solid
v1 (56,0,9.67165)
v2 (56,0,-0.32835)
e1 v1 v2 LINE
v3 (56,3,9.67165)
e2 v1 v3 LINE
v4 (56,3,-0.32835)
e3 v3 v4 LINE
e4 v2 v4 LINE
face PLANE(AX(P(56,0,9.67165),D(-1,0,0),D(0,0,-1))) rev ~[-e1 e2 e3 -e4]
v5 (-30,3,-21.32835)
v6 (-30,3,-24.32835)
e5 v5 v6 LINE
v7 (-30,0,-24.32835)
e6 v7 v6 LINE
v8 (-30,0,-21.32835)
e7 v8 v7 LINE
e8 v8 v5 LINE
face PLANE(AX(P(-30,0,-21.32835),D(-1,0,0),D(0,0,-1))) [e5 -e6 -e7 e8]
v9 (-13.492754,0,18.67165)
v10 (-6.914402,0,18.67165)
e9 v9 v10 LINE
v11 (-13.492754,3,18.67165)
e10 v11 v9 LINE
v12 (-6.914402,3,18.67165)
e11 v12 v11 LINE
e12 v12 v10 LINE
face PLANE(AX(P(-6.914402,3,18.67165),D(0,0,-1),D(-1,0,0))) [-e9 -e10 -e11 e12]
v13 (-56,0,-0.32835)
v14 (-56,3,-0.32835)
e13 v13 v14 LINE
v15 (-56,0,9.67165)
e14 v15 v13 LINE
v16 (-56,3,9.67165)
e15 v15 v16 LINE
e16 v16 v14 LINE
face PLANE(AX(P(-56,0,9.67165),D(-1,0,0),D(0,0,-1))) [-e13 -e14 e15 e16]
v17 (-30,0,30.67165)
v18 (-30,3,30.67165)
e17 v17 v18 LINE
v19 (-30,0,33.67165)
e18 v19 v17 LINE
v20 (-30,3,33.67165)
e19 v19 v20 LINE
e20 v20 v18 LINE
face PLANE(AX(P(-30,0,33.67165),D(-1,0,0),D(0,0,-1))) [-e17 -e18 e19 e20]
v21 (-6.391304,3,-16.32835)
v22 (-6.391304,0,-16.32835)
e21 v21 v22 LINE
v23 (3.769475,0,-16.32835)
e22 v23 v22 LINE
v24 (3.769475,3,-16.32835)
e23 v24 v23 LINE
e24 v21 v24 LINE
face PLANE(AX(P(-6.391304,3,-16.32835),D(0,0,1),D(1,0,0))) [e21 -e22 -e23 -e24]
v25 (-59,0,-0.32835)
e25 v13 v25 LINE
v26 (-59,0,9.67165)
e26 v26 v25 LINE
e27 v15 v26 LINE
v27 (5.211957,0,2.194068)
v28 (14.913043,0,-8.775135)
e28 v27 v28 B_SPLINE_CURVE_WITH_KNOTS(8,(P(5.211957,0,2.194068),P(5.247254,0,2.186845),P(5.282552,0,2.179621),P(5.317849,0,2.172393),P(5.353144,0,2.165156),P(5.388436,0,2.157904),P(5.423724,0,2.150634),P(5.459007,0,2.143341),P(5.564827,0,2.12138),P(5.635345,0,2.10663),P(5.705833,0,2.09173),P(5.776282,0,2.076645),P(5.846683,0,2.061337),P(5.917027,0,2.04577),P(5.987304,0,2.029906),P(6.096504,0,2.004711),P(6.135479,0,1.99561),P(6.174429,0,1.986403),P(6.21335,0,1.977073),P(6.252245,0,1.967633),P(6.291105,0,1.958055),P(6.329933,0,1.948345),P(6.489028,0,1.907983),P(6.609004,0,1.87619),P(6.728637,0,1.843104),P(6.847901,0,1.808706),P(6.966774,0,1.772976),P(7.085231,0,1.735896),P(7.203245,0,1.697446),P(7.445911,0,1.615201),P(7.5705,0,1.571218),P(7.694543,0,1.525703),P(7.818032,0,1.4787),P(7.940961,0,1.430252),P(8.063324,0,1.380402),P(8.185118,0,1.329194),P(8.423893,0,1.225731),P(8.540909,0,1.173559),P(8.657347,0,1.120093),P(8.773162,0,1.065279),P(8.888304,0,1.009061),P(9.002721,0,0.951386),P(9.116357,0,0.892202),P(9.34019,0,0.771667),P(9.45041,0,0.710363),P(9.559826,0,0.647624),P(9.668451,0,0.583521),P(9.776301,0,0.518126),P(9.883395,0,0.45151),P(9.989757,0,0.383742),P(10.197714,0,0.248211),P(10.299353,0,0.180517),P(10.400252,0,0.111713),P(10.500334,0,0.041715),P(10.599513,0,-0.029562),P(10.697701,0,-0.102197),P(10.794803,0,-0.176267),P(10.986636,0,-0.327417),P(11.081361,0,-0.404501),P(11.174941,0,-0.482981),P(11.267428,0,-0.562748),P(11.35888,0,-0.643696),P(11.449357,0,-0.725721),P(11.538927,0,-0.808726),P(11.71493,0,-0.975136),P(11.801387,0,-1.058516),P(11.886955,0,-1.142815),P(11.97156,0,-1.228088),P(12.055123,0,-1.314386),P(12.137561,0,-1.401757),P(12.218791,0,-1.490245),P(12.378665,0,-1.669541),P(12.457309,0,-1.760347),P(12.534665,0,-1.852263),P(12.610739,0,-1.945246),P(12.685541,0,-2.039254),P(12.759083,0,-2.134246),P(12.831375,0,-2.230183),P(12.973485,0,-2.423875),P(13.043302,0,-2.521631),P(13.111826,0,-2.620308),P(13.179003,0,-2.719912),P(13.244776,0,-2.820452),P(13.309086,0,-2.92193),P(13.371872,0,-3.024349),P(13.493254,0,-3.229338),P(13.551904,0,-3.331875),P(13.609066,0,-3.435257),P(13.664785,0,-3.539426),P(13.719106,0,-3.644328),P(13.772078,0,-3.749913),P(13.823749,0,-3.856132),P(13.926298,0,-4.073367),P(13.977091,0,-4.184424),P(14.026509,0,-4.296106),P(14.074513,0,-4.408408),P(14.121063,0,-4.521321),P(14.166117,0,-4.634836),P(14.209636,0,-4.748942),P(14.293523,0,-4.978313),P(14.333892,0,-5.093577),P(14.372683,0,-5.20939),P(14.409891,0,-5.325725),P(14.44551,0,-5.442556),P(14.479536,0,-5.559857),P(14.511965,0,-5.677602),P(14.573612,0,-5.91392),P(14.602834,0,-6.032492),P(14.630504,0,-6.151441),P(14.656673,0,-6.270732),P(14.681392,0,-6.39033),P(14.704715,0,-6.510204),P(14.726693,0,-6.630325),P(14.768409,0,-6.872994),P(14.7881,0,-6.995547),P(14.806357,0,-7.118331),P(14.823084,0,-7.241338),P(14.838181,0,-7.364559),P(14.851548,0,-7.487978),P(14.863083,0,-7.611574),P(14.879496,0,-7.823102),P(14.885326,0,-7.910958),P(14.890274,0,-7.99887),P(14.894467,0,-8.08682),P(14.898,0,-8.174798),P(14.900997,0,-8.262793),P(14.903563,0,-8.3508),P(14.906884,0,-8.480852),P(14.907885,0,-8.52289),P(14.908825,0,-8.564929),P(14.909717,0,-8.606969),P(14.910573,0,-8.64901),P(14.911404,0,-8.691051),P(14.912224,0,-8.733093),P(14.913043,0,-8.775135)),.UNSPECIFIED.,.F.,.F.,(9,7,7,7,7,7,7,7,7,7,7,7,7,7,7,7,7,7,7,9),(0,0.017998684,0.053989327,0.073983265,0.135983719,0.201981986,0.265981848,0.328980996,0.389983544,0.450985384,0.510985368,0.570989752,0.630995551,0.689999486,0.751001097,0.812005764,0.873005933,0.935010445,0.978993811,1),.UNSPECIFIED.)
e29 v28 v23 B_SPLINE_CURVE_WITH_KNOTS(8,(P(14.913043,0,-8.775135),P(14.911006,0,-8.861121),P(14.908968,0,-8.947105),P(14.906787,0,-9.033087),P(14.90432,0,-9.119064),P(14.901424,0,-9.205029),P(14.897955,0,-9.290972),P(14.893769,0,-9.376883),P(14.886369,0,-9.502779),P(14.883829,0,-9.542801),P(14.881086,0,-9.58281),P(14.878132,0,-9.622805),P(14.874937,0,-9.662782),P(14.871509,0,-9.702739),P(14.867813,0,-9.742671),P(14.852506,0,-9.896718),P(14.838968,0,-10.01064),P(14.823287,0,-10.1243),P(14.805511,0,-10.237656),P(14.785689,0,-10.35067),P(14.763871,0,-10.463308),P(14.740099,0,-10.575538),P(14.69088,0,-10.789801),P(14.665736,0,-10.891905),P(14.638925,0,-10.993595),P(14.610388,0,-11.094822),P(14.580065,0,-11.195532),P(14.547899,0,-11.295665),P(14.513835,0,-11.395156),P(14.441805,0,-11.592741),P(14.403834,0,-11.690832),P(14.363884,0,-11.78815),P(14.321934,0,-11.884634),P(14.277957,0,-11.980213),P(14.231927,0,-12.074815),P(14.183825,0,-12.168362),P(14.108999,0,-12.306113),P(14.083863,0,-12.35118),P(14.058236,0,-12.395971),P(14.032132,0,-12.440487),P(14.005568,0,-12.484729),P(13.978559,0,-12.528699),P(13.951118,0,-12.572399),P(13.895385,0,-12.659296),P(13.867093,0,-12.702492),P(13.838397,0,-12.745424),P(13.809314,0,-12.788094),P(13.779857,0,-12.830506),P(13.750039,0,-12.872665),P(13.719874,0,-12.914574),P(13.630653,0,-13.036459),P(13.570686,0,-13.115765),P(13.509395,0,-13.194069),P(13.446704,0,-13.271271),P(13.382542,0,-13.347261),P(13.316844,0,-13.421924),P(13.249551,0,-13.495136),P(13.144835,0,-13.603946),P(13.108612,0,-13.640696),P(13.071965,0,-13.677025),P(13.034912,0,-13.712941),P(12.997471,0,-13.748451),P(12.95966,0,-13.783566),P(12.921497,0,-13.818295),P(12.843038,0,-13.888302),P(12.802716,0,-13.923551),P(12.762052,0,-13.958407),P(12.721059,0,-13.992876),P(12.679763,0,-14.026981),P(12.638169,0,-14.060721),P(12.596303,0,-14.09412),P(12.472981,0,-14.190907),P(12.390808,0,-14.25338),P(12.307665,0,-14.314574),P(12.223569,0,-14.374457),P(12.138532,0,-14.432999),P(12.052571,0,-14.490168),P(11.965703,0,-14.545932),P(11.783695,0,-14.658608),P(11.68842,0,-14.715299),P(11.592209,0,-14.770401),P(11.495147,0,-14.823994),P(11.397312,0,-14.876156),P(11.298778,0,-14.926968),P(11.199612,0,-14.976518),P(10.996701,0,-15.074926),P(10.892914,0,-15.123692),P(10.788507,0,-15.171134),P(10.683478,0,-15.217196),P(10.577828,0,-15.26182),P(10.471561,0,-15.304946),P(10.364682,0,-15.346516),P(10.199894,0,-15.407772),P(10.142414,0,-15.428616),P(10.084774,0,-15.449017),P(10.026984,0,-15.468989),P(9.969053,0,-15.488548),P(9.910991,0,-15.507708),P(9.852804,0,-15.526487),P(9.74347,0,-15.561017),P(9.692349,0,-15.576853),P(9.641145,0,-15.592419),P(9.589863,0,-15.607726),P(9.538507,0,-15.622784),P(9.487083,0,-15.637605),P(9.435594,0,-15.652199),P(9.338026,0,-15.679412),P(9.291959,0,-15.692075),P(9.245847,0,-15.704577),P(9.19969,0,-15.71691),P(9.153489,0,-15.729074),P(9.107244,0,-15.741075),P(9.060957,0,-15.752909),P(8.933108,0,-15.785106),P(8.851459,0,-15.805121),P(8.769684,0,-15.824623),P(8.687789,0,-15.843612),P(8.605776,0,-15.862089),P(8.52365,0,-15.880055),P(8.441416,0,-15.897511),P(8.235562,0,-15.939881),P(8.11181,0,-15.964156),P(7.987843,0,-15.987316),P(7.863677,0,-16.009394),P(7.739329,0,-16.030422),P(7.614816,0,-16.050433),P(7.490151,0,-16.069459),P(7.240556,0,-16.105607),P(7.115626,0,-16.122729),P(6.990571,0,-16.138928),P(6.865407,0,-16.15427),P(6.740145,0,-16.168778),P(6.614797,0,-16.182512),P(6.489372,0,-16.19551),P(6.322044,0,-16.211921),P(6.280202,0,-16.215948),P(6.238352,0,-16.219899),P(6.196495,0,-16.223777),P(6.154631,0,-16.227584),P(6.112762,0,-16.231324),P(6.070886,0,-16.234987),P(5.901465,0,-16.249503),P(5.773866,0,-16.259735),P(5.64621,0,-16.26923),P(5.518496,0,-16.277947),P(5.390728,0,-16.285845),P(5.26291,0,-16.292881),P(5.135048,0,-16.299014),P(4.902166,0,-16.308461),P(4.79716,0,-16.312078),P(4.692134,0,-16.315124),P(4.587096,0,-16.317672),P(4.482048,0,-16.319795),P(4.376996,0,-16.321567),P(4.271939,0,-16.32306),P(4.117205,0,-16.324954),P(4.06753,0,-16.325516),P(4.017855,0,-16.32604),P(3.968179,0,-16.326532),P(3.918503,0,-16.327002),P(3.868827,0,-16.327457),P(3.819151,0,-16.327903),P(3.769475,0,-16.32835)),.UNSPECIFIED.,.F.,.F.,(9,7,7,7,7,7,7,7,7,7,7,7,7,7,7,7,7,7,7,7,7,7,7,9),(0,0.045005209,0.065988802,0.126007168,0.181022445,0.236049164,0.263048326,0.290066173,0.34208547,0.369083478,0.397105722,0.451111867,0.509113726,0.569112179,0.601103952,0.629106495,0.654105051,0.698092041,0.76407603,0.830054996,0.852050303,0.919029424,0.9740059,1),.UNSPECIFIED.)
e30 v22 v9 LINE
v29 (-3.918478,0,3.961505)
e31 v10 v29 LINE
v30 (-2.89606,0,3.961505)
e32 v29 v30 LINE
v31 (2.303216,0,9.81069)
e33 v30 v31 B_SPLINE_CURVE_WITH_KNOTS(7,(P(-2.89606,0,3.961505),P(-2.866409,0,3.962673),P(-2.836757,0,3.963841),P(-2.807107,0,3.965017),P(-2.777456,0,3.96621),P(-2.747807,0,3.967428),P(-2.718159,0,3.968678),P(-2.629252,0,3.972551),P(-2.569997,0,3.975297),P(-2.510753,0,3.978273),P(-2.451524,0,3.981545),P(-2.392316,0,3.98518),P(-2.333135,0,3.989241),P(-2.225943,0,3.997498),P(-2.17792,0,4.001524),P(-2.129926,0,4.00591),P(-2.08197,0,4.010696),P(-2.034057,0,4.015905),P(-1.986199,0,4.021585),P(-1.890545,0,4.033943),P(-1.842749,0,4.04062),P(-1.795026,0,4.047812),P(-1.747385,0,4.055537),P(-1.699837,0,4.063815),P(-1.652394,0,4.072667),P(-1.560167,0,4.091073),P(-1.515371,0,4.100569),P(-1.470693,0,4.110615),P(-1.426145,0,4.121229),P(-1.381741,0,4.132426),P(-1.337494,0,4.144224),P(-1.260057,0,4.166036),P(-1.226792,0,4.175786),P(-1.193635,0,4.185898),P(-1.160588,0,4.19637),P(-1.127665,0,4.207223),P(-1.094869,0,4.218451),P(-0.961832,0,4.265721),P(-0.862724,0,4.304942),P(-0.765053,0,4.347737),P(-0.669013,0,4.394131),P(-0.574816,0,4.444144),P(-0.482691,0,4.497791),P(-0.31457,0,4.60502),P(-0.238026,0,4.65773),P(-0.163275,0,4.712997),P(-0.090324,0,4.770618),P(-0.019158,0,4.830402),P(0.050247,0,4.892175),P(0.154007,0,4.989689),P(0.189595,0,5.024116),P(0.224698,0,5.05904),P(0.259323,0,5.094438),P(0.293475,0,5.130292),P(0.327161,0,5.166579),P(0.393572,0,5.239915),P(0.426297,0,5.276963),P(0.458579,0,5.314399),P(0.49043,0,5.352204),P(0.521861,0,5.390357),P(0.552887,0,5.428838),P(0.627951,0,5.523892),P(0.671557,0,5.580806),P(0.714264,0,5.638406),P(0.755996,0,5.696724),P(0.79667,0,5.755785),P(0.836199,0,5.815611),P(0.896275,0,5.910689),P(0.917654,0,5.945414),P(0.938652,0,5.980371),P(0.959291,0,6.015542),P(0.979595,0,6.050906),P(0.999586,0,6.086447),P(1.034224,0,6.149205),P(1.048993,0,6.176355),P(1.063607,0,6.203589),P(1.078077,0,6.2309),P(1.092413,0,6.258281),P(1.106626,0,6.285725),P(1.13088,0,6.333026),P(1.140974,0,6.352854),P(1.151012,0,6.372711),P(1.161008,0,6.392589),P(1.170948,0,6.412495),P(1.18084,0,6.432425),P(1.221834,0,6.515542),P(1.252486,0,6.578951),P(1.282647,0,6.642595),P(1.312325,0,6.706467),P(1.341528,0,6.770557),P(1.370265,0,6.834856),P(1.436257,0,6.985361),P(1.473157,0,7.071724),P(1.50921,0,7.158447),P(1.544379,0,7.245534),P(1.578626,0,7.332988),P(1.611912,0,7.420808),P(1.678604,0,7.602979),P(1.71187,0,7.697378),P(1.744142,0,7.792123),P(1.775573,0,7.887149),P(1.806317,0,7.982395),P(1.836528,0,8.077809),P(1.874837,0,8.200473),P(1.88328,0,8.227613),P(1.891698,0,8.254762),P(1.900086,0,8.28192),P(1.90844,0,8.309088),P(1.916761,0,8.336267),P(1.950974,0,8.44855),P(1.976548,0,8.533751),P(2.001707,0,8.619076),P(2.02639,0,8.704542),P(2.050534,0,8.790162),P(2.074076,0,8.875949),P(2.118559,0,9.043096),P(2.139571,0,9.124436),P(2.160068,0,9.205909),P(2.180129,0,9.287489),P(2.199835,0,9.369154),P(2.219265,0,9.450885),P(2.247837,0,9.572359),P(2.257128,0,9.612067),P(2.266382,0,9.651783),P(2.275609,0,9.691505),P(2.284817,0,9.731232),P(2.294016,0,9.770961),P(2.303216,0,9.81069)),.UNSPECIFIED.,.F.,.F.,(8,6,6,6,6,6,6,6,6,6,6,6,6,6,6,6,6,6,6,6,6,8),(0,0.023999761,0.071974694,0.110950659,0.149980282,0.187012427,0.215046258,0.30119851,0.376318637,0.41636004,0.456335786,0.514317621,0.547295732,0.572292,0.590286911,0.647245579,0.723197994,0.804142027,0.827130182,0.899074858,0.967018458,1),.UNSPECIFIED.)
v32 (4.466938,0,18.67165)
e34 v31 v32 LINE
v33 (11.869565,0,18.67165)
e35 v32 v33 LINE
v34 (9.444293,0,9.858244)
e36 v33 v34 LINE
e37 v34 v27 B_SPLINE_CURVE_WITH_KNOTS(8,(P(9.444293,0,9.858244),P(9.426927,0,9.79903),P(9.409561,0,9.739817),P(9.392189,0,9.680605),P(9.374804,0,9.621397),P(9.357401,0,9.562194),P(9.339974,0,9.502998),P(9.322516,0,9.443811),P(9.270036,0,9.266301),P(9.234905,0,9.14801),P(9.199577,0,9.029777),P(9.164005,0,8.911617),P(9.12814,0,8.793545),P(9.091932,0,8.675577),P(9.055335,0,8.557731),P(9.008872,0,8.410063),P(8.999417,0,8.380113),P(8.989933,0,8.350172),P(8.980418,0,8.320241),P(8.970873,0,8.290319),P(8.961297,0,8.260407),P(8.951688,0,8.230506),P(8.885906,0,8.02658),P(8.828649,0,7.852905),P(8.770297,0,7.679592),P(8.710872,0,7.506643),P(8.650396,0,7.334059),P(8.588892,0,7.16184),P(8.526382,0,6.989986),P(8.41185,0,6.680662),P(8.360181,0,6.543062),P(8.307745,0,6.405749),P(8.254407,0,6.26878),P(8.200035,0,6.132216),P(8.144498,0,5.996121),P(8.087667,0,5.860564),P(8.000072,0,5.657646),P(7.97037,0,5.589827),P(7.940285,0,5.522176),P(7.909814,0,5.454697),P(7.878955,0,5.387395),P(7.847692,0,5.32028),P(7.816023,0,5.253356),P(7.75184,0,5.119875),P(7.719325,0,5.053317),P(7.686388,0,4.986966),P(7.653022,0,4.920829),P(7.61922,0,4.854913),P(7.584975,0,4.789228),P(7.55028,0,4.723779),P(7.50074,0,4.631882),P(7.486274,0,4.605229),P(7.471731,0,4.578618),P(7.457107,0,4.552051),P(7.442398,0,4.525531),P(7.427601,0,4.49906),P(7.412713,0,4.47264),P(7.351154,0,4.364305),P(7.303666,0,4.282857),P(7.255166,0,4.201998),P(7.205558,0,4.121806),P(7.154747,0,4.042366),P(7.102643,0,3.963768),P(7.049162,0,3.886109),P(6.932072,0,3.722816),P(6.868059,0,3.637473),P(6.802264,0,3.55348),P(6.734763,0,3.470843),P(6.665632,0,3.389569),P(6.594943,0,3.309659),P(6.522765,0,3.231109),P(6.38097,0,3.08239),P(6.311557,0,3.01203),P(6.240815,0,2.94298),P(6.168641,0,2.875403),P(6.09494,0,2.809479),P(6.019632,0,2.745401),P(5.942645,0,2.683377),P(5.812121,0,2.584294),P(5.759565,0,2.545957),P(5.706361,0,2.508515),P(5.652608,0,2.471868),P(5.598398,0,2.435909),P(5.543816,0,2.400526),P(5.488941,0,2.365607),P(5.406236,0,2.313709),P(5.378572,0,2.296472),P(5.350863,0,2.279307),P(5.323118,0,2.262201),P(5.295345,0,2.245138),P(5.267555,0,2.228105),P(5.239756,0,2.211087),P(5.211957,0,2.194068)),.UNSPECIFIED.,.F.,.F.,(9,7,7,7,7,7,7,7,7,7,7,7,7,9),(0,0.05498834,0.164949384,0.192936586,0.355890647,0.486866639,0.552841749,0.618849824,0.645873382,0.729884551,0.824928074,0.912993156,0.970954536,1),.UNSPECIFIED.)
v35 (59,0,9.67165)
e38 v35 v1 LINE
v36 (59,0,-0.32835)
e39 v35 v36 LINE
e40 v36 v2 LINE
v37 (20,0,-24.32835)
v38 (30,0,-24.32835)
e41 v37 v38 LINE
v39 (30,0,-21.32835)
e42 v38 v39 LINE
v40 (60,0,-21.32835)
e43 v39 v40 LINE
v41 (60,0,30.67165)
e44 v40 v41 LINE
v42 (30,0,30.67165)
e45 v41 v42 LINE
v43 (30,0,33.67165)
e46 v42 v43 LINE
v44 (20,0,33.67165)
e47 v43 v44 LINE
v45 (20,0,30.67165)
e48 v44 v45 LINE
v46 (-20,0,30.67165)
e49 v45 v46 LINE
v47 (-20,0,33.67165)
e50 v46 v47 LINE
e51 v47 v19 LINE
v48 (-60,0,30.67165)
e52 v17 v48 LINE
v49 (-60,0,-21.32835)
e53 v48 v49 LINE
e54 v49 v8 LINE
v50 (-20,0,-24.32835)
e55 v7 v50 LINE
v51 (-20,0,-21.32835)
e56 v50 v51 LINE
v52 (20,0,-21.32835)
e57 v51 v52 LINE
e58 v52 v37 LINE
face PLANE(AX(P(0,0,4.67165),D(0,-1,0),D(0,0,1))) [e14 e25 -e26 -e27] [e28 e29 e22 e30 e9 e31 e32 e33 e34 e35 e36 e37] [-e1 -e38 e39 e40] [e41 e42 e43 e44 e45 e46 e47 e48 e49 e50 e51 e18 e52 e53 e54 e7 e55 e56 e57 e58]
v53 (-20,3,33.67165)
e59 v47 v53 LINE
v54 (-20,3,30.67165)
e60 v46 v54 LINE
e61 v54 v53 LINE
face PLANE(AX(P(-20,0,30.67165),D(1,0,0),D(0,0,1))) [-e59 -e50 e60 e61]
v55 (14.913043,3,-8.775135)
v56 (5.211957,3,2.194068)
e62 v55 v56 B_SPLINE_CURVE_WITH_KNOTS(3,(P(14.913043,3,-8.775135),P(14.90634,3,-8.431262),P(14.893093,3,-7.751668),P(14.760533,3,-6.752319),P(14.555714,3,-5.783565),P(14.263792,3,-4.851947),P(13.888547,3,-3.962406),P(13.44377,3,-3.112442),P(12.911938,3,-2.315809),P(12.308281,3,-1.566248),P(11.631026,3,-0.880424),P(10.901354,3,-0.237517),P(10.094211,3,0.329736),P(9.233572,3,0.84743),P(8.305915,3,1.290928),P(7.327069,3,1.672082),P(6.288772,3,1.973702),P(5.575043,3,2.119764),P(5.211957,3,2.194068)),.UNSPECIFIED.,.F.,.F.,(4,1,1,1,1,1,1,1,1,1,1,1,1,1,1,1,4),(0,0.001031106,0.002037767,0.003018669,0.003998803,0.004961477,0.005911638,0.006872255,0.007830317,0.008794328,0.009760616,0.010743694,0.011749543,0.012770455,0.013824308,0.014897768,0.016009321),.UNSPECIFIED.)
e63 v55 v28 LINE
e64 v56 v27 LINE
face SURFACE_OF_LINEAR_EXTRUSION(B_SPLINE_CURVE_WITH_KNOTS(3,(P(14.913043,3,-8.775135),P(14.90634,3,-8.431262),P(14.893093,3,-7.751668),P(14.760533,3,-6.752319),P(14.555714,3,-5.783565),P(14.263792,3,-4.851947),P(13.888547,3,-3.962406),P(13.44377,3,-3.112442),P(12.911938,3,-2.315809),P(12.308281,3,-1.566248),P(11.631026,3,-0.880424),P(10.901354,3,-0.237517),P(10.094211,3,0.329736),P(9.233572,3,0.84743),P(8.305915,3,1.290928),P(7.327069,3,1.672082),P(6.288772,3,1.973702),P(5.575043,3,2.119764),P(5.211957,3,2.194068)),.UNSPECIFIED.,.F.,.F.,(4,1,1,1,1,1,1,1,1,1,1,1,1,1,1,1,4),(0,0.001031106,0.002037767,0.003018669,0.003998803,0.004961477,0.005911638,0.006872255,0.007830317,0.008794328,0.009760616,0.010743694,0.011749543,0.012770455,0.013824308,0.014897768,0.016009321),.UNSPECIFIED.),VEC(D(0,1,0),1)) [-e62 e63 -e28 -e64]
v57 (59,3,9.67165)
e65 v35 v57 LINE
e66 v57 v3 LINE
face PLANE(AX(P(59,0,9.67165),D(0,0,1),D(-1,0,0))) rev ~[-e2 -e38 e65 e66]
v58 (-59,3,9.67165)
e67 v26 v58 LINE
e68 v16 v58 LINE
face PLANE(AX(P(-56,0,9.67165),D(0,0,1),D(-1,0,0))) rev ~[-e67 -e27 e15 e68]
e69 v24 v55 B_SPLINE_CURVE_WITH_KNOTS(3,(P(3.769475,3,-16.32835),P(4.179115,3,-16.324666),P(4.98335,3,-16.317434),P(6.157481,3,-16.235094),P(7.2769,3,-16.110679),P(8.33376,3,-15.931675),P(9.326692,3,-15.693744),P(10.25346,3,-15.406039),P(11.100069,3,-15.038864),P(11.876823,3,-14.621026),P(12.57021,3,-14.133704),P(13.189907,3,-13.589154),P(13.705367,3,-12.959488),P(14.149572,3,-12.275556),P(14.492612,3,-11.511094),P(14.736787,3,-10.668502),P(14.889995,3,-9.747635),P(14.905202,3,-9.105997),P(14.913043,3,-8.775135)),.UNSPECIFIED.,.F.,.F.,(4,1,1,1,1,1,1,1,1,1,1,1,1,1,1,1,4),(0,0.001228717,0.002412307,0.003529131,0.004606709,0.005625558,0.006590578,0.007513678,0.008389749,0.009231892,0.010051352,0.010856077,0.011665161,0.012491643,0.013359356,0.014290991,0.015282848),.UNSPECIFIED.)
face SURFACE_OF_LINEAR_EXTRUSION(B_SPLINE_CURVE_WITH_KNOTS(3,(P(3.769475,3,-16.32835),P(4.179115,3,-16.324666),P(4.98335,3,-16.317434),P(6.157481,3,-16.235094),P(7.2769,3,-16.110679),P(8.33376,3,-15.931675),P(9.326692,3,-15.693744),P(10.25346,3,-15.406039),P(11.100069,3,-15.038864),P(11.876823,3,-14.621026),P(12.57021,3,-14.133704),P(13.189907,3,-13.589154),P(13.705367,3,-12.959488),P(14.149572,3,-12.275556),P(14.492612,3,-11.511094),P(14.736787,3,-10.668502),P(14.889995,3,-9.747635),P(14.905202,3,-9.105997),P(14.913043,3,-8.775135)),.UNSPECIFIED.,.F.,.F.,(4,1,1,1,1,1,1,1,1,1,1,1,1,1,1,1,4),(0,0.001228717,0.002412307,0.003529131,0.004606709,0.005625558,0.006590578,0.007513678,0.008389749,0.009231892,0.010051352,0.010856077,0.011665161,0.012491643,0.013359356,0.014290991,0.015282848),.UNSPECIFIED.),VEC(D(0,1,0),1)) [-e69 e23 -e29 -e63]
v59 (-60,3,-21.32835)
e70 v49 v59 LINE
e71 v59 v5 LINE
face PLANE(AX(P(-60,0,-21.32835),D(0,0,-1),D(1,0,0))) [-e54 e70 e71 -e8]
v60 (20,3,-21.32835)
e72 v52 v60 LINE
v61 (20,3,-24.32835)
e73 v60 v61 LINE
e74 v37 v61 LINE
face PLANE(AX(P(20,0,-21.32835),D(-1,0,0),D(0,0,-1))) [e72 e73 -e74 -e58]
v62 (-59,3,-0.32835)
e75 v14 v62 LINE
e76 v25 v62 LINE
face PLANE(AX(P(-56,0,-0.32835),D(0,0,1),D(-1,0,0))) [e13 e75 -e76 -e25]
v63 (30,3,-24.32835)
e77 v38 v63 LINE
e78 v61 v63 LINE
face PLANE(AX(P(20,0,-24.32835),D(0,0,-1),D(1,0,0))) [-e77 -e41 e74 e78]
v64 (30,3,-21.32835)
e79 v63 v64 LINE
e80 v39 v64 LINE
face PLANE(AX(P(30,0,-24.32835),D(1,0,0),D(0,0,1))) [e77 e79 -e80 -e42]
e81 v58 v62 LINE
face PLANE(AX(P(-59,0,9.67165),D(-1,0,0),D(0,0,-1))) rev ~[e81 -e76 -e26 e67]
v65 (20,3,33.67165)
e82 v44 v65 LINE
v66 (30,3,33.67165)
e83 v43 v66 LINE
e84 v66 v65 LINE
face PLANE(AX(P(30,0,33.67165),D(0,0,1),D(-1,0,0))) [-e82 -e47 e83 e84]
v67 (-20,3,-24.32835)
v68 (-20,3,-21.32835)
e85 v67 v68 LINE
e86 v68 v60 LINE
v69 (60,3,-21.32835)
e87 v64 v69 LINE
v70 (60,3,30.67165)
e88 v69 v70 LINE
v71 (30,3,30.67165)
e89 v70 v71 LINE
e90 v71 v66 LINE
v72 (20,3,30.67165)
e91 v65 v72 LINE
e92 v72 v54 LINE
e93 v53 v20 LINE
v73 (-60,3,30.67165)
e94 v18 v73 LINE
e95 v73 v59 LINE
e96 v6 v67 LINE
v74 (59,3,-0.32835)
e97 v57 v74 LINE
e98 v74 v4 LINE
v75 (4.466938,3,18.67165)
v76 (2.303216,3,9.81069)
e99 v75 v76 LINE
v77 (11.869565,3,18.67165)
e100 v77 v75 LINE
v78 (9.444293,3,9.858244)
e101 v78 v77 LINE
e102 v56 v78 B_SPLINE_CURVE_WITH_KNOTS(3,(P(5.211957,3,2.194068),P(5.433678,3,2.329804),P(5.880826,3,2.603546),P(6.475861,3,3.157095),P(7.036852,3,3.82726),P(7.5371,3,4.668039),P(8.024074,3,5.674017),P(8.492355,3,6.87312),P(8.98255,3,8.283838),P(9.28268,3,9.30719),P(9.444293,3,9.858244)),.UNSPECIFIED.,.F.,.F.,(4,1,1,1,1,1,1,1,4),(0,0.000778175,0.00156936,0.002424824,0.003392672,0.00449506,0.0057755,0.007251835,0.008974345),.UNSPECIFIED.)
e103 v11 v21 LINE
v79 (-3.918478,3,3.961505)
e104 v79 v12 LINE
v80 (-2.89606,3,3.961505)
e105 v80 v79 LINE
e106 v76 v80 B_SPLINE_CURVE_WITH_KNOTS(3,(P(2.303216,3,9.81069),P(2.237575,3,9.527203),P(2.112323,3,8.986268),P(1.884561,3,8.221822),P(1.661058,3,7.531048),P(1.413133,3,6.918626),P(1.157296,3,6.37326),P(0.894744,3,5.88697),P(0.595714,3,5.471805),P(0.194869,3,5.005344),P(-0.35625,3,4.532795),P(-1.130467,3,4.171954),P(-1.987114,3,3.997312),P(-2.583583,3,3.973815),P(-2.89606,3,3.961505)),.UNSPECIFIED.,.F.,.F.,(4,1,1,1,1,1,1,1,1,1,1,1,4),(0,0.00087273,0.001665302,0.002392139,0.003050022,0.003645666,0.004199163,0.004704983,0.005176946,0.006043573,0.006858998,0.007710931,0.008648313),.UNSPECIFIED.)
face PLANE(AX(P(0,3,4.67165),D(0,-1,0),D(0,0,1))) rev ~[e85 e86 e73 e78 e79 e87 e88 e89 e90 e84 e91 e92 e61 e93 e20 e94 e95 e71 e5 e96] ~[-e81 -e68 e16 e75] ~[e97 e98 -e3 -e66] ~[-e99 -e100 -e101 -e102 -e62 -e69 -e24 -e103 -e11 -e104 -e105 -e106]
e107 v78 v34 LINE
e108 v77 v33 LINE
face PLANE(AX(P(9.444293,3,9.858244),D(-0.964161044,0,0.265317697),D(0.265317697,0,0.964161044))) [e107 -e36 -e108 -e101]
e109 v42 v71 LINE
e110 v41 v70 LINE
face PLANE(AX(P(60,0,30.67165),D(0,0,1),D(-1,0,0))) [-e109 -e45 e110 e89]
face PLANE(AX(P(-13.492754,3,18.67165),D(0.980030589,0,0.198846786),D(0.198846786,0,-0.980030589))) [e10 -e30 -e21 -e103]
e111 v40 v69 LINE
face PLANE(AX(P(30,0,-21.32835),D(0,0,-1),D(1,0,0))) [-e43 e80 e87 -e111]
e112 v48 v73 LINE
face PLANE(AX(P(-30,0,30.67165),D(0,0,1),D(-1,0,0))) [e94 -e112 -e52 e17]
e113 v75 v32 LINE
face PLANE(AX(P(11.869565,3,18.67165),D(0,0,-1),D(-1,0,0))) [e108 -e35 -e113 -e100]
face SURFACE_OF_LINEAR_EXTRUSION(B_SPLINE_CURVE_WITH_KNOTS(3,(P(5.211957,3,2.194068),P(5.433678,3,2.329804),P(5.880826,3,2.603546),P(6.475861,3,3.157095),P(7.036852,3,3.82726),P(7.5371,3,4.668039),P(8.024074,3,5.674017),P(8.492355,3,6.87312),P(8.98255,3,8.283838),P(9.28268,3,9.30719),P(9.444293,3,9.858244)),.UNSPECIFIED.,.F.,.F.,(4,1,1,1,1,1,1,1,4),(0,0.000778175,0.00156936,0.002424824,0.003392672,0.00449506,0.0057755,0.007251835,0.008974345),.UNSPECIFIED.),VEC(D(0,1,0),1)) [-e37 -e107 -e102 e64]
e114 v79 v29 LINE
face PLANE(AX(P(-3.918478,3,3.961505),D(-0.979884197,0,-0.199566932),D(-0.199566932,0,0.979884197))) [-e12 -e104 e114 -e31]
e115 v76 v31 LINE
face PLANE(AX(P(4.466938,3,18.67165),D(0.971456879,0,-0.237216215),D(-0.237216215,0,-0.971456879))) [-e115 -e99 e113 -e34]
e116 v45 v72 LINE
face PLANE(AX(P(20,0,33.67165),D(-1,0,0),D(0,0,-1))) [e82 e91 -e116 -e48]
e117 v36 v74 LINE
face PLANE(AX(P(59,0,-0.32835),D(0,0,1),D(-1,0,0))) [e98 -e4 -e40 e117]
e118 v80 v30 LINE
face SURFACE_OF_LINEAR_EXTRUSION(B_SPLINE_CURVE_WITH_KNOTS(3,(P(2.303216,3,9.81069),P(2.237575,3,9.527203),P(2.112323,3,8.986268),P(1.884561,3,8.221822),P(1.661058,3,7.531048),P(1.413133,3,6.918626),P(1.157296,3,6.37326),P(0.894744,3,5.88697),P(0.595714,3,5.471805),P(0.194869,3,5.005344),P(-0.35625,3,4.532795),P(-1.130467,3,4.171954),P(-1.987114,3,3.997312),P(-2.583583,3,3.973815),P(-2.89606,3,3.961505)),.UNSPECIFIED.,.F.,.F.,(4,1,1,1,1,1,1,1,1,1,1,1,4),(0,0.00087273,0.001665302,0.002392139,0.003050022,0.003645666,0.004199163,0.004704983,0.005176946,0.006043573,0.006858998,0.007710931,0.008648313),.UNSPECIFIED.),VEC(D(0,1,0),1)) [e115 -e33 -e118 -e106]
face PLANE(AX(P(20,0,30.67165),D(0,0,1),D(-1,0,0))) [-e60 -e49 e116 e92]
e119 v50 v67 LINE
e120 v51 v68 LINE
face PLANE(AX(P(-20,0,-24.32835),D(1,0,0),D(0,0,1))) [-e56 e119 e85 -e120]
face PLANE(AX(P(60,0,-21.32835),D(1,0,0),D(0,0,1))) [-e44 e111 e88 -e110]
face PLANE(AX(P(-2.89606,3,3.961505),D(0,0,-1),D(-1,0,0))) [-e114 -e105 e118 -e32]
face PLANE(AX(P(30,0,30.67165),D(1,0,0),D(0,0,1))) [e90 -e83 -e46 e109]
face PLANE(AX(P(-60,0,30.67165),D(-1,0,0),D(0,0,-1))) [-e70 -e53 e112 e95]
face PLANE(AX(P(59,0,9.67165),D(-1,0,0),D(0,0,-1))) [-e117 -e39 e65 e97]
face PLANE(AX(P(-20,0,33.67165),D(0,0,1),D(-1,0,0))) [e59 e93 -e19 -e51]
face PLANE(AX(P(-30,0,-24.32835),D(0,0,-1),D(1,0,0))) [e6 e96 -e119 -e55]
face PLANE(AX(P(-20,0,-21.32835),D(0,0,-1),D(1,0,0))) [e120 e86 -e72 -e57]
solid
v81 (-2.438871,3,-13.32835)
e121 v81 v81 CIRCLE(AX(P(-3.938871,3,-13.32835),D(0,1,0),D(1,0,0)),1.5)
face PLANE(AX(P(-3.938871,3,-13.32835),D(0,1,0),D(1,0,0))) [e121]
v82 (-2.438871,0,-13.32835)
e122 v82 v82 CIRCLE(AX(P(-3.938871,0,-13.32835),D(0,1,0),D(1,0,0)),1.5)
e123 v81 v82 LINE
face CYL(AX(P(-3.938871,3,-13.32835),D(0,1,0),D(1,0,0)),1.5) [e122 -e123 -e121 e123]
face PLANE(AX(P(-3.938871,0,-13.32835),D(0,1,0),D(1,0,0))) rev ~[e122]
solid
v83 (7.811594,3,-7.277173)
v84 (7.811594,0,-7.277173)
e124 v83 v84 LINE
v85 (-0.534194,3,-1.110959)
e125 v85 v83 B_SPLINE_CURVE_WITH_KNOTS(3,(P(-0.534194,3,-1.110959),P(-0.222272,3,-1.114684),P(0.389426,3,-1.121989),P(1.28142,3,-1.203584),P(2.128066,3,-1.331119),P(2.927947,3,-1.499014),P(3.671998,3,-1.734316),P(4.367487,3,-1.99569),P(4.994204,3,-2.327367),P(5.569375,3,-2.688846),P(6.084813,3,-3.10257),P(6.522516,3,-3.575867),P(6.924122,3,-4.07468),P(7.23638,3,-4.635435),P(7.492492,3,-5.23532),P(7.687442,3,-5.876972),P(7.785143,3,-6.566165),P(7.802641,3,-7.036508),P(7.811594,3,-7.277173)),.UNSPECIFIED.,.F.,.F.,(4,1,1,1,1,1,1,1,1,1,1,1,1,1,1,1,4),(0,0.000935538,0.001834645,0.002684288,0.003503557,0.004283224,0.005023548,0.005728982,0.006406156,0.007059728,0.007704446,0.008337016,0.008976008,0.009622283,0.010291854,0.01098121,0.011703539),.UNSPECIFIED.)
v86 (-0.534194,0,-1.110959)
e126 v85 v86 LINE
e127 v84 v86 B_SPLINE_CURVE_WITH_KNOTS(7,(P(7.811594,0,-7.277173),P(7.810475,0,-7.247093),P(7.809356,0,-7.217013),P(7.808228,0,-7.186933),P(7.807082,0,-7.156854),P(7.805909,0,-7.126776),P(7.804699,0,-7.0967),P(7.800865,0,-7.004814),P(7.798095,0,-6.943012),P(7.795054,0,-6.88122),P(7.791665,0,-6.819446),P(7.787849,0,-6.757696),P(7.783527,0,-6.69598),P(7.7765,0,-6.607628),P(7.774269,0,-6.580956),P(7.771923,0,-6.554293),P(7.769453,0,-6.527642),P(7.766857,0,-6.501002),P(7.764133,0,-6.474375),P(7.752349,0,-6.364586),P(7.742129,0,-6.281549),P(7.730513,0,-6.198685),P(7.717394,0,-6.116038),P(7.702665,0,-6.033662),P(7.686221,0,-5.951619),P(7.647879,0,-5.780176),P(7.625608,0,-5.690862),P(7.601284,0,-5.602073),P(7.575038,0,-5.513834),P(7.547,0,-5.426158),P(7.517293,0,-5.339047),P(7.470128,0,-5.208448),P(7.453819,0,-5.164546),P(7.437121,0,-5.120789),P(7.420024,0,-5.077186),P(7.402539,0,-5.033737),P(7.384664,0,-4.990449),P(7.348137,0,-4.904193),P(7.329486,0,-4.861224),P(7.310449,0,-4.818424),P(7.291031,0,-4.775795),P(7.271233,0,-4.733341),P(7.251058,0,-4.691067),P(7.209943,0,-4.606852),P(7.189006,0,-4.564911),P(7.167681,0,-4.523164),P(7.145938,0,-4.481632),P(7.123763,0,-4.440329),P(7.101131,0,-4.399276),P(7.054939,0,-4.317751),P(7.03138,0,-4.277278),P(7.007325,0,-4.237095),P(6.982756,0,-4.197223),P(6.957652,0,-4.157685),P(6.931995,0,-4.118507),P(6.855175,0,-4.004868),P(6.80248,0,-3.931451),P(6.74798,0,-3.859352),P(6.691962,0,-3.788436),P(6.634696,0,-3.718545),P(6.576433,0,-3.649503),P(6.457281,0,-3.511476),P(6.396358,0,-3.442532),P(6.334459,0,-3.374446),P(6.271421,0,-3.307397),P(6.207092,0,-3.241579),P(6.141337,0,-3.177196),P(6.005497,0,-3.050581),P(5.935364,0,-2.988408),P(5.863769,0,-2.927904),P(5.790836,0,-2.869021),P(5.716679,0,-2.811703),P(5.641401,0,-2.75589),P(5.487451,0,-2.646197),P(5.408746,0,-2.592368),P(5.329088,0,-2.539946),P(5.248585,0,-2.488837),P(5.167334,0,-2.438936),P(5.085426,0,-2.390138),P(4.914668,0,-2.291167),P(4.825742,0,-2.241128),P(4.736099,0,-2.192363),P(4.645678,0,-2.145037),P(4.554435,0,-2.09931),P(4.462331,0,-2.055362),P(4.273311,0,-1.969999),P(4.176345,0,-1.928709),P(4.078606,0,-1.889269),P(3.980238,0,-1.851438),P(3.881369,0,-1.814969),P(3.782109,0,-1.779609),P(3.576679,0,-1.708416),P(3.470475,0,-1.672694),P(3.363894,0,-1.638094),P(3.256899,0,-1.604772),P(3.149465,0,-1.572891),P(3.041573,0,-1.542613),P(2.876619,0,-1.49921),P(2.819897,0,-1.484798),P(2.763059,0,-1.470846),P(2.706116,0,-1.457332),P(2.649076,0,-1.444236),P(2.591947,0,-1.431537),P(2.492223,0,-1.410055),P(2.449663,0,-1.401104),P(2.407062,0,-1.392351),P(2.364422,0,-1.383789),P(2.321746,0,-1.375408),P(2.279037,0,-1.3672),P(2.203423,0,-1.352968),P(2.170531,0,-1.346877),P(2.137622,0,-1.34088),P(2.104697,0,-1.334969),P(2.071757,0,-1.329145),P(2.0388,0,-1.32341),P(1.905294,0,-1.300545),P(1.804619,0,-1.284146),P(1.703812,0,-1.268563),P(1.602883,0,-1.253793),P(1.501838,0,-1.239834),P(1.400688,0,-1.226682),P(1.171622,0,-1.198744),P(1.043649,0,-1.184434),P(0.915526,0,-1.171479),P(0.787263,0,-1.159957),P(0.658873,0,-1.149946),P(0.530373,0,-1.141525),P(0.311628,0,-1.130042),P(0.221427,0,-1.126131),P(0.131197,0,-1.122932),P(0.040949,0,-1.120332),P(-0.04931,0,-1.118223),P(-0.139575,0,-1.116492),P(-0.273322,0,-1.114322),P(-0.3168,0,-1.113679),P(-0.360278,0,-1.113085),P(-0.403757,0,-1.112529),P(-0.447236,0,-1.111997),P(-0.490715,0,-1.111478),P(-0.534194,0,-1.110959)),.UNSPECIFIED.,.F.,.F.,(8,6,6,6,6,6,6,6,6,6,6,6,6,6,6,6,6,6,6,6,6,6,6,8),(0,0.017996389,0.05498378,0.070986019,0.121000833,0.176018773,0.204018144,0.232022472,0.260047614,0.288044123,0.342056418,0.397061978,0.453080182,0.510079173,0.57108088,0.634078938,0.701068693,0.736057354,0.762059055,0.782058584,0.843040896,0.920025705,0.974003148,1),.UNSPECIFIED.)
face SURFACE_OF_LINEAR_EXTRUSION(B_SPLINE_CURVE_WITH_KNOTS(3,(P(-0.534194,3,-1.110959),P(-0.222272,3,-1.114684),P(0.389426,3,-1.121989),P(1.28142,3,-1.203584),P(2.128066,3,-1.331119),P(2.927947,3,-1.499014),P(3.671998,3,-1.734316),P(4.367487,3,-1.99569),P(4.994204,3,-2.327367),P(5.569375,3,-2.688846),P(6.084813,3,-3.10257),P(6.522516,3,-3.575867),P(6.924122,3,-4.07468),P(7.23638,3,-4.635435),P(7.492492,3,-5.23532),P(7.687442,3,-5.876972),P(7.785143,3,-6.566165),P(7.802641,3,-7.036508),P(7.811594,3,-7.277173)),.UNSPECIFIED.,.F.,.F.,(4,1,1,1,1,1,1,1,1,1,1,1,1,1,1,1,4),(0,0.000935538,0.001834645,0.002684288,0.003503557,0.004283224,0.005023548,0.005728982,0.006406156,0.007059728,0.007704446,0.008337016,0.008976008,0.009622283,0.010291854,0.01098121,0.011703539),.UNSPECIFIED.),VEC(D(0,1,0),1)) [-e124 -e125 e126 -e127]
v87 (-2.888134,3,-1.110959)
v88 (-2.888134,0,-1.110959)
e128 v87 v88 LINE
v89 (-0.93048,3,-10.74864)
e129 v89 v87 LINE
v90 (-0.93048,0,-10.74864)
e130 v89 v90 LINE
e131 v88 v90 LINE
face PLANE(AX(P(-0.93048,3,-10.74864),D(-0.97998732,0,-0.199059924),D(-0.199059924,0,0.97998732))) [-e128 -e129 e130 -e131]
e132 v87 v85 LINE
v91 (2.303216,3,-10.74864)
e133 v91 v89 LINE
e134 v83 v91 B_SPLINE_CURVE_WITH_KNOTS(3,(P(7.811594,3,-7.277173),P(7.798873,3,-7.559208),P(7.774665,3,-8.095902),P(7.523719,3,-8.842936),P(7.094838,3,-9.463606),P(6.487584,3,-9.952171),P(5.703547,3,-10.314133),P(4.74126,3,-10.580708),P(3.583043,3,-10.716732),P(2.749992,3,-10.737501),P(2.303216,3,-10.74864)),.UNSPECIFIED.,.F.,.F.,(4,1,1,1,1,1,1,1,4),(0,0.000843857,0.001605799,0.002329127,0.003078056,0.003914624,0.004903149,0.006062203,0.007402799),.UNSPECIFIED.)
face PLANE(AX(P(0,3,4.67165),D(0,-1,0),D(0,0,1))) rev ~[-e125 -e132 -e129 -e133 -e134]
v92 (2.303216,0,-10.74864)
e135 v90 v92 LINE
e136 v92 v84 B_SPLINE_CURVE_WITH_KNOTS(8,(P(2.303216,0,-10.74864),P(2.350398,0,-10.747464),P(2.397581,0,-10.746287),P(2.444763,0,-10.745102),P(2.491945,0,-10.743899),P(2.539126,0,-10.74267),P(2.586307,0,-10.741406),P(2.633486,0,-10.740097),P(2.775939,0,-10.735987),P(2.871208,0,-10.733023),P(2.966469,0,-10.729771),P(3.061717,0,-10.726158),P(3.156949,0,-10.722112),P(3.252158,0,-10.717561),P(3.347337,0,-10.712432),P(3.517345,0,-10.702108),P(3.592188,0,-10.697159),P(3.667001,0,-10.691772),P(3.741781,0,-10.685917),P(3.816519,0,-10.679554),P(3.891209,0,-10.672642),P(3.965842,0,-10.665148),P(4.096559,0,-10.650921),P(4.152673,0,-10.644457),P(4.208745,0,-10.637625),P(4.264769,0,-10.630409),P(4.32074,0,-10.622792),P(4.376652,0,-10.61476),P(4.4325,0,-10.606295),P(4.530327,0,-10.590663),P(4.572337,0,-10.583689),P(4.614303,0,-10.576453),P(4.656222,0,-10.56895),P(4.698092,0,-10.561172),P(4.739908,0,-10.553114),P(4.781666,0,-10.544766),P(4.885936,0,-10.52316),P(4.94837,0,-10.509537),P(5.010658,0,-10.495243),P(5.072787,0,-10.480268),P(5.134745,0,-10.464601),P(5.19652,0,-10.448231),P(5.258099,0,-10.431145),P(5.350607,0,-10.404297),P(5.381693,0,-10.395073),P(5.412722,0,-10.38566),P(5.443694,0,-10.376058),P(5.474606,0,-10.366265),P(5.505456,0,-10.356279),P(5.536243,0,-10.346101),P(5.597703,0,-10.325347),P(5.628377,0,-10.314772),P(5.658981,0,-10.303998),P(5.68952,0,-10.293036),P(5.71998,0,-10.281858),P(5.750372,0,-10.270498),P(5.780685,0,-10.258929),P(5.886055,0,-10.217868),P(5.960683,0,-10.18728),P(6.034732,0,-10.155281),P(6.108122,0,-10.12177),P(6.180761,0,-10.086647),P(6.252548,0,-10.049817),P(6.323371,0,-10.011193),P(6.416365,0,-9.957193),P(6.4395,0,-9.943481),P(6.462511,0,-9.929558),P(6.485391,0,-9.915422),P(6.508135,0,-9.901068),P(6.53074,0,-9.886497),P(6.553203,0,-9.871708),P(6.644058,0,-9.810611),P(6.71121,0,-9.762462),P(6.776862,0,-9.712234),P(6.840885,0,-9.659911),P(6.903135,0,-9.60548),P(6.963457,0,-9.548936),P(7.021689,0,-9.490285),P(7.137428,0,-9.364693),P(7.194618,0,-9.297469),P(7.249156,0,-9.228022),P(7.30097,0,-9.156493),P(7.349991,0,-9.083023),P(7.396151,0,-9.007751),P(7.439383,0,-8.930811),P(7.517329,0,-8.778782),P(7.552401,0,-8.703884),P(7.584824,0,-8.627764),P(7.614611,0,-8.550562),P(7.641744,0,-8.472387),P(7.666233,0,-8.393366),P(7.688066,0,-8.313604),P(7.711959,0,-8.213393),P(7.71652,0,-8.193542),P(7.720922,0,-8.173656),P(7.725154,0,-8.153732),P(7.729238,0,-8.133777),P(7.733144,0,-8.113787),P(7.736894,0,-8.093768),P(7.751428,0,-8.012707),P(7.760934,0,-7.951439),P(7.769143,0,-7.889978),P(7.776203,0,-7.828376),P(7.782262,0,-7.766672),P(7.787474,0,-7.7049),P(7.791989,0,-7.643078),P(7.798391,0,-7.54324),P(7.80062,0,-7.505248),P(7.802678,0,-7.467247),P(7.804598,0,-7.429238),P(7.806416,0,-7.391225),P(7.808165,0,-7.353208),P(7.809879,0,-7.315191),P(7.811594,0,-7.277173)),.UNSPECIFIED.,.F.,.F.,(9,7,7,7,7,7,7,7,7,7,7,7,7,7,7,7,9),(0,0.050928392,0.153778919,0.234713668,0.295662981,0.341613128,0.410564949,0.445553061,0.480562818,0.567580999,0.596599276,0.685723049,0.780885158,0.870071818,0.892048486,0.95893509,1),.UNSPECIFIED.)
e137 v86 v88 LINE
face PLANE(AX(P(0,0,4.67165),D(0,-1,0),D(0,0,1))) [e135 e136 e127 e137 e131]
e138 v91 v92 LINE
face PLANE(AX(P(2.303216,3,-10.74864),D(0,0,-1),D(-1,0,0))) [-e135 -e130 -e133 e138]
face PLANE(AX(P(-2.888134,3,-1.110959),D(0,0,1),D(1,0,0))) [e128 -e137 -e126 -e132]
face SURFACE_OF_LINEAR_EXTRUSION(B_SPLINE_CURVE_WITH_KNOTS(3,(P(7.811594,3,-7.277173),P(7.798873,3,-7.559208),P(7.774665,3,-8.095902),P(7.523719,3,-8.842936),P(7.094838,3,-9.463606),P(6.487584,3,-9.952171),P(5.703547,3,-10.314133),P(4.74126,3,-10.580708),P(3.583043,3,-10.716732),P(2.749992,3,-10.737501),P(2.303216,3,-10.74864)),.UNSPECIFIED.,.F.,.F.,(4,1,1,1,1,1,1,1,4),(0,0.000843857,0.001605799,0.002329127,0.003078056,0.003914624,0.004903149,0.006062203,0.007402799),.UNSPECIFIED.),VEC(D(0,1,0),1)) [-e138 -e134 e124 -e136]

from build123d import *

# Parameters (mm, degrees)
SKETCH1_W             = 10
SKETCH1_H             = 3
BOSS_EXTRUDE1_DEPTH   = 3
BODY_MOVE_COPY1_ANGLE = 90
CUT_EXTRUDE1_DEPTH    = 10
SKETCH5_R             = 1.5
BOSS_EXTRUDE2_DEPTH   = 3


with BuildPart() as part:
    # Sketch1 → Boss-Extrude1 (new body)
    with BuildSketch(Plane(origin=(0, 0, 0), x_dir=(1, 0, 0), z_dir=(0, 1, 0))):
        Polygon((-26, 60), (26, 60), (26, 30), (29, 30), (29, 20), (26, 20), (26, -20), (29, -20), (29, -30), (26, -30), (26, -60), (-26, -60), (-26, -30), (-29, -30), (-29, -20), (-26, -20), (-26, 20), (-29, 20), (-29, 30), (-26, 30), align=None)
        with Locations((0, 57.5)):
            Rectangle(SKETCH1_W, SKETCH1_H, mode=Mode.SUBTRACT)
        with Locations((0, -57.5)):
            Rectangle(SKETCH1_W, SKETCH1_H, mode=Mode.SUBTRACT)
    extrude(amount=BOSS_EXTRUDE1_DEPTH)


with BuildPart() as part_1:
    # Body-Move/Copy1: moved
    add(part.part.rotate(Axis((2.335824912, 0, 2.335824912), (0, 1, 0)), BODY_MOVE_COPY1_ANGLE))

    # Sketch3 → Cut-Extrude1 (cut)
    with BuildSketch(Plane(origin=(0, 3, 0), x_dir=(1, 0, 0), z_dir=(0, 1, 0))):
        with BuildLine():
            Line((4.466938406, -18.671649823), (2.30321558, -9.810689678))
            add(Edge.make_bspline(
                [(2.30321558, -9.810689678), (2.237575072, -9.527203361), (2.112322927, -8.986268034), (1.884560825, -8.221822452), (1.661058011, -7.531047935), (1.413133081, -6.918626032), (1.157295895, -6.373259853), (0.894743907, -5.8869704), (0.595714484, -5.47180495), (0.194869077, -5.00534387), (-0.35624983, -4.53279488), (-1.130467052, -4.171954214), (-1.987113549, -3.997311886), (-2.583582774, -3.973814602), (-2.896059783, -3.961504895)],
                knots=[0, 0, 0, 0, 0.00087273, 0.001665302, 0.002392139, 0.003050022, 0.003645666, 0.004199163, 0.004704983, 0.005176946, 0.006043573, 0.006858998, 0.007710931, 0.008648313, 0.008648313, 0.008648313, 0.008648313], degree=3))
            Line((-2.896059783, -3.961504895), (-3.918478261, -3.961504895))
            Line((-3.918478261, -3.961504895), (-6.914402174, -18.671649823))
            Line((-6.914402174, -18.671649823), (-13.492753623, -18.671649823))
            Line((-13.492753623, -18.671649823), (-6.391304348, 16.328350177))
            Line((-6.391304348, 16.328350177), (3.769474638, 16.328350177))
            add(Edge.make_bspline(
                [(3.769474638, 16.328350177), (4.179114658, 16.324666316), (4.983349625, 16.317433894), (6.157480568, 16.235094411), (7.276899975, 16.110679294), (8.333759624, 15.931675368), (9.326691627, 15.693744473), (10.253459532, 15.406039359), (11.100069006, 15.038863675), (11.876823255, 14.621025917), (12.570210089, 14.133703622), (13.189907339, 13.589154481), (13.705367007, 12.959487705), (14.149571746, 12.275556031), (14.492611839, 11.511094404), (14.736787252, 10.668501563), (14.889995303, 9.747634617), (14.905202054, 9.105997443), (14.913043478, 8.775134597)],
                knots=[0, 0, 0, 0, 0.001228717, 0.002412307, 0.003529131, 0.004606709, 0.005625558, 0.006590578, 0.007513678, 0.008389749, 0.009231892, 0.010051352, 0.010856077, 0.011665161, 0.012491643, 0.013359356, 0.014290991, 0.015282848, 0.015282848, 0.015282848, 0.015282848], degree=3))
            add(Edge.make_bspline(
                [(14.913043478, 8.775134597), (14.90634048, 8.431261664), (14.893093398, 7.751668308), (14.760533036, 6.752319412), (14.555714135, 5.783564983), (14.26379236, 4.851946617), (13.888546868, 3.962405889), (13.443769752, 3.112441971), (12.911937837, 2.31580861), (12.30828054, 1.56624831), (11.631026441, 0.880423971), (10.901354362, 0.237517458), (10.094211296, -0.329736345), (9.23357218, -0.847429864), (8.305914573, -1.290927772), (7.327068955, -1.672081546), (6.288772428, -1.973702446), (5.57504277, -2.119764224), (5.211956522, -2.194068301)],
                knots=[0, 0, 0, 0, 0.001031106, 0.002037767, 0.003018669, 0.003998803, 0.004961477, 0.005911638, 0.006872255, 0.007830317, 0.008794328, 0.009760616, 0.010743694, 0.011749543, 0.012770455, 0.013824308, 0.014897768, 0.016009321, 0.016009321, 0.016009321, 0.016009321], degree=3))
            add(Edge.make_bspline(
                [(5.211956522, -2.194068301), (5.433677531, -2.329804407), (5.880826084, -2.603545735), (6.475860944, -3.157094687), (7.036852477, -3.827260458), (7.537100256, -4.668039178), (8.024074361, -5.674016505), (8.492355162, -6.873119692), (8.982550395, -8.283837505), (9.282680049, -9.30719032), (9.444293478, -9.858244026)],
                knots=[0, 0, 0, 0, 0.000778175, 0.00156936, 0.002424824, 0.003392672, 0.00449506, 0.0057755, 0.007251835, 0.008974345, 0.008974345, 0.008974345, 0.008974345], degree=3))
            Line((9.444293478, -9.858244026), (11.869565217, -18.671649823))
            Line((11.869565217, -18.671649823), (4.466938406, -18.671649823))
        make_face()
        with BuildLine():
            add(Edge.make_bspline(
                [(-0.534193841, 1.110958873), (-0.222271666, 1.114684086), (0.389426144, 1.12198945), (1.281419848, 1.203583832), (2.128065934, 1.33111856), (2.927947458, 1.499014183), (3.671997626, 1.734316476), (4.367486912, 1.995689795), (4.994203786, 2.327367466), (5.569374986, 2.688845671), (6.084812921, 3.102569872), (6.522516374, 3.575867415), (6.924121554, 4.074680151), (7.236379669, 4.635434575), (7.492492322, 5.235319597), (7.687442147, 5.876972177), (7.785143439, 6.566165217), (7.80264105, 7.036508201), (7.811594203, 7.277172641)],
                knots=[0, 0, 0, 0, 0.000935538, 0.001834645, 0.002684288, 0.003503557, 0.004283224, 0.005023548, 0.005728982, 0.006406156, 0.007059728, 0.007704446, 0.008337016, 0.008976008, 0.009622283, 0.010291854, 0.01098121, 0.011703539, 0.011703539, 0.011703539, 0.011703539], degree=3))
            add(Edge.make_bspline(
                [(7.811594203, 7.277172641), (7.798872985, 7.559208481), (7.774665424, 8.095902346), (7.523719172, 8.842936343), (7.094837748, 9.463606351), (6.487583788, 9.952170757), (5.703546602, 10.314133032), (4.741260196, 10.580707514), (3.583042546, 10.716731558), (2.749991851, 10.737501066), (2.30321558, 10.748640032)],
                knots=[0, 0, 0, 0, 0.000843857, 0.001605799, 0.002329127, 0.003078056, 0.003914624, 0.004903149, 0.006062203, 0.007402799, 0.007402799, 0.007402799, 0.007402799], degree=3))
            Line((2.30321558, 10.748640032), (-0.930480072, 10.748640032))
            Line((-0.930480072, 10.748640032), (-2.888134058, 1.110958873))
            Line((-2.888134058, 1.110958873), (-0.534193841, 1.110958873))
        make_face(mode=Mode.SUBTRACT)
    extrude(amount=-CUT_EXTRUDE1_DEPTH, mode=Mode.SUBTRACT)


with BuildPart() as body_2:
    # Sketch5 → Boss-Extrude2 (new body)
    with BuildSketch(Plane(origin=(0, 3, 0), x_dir=(1, 0, 0), z_dir=(0, 1, 0))):
        with Locations((-3.938871058, 13.328350177)):
            Circle(SKETCH5_R)
    extrude(amount=-BOSS_EXTRUDE2_DEPTH)


solid = Compound([part_1.part, body_2.part])
